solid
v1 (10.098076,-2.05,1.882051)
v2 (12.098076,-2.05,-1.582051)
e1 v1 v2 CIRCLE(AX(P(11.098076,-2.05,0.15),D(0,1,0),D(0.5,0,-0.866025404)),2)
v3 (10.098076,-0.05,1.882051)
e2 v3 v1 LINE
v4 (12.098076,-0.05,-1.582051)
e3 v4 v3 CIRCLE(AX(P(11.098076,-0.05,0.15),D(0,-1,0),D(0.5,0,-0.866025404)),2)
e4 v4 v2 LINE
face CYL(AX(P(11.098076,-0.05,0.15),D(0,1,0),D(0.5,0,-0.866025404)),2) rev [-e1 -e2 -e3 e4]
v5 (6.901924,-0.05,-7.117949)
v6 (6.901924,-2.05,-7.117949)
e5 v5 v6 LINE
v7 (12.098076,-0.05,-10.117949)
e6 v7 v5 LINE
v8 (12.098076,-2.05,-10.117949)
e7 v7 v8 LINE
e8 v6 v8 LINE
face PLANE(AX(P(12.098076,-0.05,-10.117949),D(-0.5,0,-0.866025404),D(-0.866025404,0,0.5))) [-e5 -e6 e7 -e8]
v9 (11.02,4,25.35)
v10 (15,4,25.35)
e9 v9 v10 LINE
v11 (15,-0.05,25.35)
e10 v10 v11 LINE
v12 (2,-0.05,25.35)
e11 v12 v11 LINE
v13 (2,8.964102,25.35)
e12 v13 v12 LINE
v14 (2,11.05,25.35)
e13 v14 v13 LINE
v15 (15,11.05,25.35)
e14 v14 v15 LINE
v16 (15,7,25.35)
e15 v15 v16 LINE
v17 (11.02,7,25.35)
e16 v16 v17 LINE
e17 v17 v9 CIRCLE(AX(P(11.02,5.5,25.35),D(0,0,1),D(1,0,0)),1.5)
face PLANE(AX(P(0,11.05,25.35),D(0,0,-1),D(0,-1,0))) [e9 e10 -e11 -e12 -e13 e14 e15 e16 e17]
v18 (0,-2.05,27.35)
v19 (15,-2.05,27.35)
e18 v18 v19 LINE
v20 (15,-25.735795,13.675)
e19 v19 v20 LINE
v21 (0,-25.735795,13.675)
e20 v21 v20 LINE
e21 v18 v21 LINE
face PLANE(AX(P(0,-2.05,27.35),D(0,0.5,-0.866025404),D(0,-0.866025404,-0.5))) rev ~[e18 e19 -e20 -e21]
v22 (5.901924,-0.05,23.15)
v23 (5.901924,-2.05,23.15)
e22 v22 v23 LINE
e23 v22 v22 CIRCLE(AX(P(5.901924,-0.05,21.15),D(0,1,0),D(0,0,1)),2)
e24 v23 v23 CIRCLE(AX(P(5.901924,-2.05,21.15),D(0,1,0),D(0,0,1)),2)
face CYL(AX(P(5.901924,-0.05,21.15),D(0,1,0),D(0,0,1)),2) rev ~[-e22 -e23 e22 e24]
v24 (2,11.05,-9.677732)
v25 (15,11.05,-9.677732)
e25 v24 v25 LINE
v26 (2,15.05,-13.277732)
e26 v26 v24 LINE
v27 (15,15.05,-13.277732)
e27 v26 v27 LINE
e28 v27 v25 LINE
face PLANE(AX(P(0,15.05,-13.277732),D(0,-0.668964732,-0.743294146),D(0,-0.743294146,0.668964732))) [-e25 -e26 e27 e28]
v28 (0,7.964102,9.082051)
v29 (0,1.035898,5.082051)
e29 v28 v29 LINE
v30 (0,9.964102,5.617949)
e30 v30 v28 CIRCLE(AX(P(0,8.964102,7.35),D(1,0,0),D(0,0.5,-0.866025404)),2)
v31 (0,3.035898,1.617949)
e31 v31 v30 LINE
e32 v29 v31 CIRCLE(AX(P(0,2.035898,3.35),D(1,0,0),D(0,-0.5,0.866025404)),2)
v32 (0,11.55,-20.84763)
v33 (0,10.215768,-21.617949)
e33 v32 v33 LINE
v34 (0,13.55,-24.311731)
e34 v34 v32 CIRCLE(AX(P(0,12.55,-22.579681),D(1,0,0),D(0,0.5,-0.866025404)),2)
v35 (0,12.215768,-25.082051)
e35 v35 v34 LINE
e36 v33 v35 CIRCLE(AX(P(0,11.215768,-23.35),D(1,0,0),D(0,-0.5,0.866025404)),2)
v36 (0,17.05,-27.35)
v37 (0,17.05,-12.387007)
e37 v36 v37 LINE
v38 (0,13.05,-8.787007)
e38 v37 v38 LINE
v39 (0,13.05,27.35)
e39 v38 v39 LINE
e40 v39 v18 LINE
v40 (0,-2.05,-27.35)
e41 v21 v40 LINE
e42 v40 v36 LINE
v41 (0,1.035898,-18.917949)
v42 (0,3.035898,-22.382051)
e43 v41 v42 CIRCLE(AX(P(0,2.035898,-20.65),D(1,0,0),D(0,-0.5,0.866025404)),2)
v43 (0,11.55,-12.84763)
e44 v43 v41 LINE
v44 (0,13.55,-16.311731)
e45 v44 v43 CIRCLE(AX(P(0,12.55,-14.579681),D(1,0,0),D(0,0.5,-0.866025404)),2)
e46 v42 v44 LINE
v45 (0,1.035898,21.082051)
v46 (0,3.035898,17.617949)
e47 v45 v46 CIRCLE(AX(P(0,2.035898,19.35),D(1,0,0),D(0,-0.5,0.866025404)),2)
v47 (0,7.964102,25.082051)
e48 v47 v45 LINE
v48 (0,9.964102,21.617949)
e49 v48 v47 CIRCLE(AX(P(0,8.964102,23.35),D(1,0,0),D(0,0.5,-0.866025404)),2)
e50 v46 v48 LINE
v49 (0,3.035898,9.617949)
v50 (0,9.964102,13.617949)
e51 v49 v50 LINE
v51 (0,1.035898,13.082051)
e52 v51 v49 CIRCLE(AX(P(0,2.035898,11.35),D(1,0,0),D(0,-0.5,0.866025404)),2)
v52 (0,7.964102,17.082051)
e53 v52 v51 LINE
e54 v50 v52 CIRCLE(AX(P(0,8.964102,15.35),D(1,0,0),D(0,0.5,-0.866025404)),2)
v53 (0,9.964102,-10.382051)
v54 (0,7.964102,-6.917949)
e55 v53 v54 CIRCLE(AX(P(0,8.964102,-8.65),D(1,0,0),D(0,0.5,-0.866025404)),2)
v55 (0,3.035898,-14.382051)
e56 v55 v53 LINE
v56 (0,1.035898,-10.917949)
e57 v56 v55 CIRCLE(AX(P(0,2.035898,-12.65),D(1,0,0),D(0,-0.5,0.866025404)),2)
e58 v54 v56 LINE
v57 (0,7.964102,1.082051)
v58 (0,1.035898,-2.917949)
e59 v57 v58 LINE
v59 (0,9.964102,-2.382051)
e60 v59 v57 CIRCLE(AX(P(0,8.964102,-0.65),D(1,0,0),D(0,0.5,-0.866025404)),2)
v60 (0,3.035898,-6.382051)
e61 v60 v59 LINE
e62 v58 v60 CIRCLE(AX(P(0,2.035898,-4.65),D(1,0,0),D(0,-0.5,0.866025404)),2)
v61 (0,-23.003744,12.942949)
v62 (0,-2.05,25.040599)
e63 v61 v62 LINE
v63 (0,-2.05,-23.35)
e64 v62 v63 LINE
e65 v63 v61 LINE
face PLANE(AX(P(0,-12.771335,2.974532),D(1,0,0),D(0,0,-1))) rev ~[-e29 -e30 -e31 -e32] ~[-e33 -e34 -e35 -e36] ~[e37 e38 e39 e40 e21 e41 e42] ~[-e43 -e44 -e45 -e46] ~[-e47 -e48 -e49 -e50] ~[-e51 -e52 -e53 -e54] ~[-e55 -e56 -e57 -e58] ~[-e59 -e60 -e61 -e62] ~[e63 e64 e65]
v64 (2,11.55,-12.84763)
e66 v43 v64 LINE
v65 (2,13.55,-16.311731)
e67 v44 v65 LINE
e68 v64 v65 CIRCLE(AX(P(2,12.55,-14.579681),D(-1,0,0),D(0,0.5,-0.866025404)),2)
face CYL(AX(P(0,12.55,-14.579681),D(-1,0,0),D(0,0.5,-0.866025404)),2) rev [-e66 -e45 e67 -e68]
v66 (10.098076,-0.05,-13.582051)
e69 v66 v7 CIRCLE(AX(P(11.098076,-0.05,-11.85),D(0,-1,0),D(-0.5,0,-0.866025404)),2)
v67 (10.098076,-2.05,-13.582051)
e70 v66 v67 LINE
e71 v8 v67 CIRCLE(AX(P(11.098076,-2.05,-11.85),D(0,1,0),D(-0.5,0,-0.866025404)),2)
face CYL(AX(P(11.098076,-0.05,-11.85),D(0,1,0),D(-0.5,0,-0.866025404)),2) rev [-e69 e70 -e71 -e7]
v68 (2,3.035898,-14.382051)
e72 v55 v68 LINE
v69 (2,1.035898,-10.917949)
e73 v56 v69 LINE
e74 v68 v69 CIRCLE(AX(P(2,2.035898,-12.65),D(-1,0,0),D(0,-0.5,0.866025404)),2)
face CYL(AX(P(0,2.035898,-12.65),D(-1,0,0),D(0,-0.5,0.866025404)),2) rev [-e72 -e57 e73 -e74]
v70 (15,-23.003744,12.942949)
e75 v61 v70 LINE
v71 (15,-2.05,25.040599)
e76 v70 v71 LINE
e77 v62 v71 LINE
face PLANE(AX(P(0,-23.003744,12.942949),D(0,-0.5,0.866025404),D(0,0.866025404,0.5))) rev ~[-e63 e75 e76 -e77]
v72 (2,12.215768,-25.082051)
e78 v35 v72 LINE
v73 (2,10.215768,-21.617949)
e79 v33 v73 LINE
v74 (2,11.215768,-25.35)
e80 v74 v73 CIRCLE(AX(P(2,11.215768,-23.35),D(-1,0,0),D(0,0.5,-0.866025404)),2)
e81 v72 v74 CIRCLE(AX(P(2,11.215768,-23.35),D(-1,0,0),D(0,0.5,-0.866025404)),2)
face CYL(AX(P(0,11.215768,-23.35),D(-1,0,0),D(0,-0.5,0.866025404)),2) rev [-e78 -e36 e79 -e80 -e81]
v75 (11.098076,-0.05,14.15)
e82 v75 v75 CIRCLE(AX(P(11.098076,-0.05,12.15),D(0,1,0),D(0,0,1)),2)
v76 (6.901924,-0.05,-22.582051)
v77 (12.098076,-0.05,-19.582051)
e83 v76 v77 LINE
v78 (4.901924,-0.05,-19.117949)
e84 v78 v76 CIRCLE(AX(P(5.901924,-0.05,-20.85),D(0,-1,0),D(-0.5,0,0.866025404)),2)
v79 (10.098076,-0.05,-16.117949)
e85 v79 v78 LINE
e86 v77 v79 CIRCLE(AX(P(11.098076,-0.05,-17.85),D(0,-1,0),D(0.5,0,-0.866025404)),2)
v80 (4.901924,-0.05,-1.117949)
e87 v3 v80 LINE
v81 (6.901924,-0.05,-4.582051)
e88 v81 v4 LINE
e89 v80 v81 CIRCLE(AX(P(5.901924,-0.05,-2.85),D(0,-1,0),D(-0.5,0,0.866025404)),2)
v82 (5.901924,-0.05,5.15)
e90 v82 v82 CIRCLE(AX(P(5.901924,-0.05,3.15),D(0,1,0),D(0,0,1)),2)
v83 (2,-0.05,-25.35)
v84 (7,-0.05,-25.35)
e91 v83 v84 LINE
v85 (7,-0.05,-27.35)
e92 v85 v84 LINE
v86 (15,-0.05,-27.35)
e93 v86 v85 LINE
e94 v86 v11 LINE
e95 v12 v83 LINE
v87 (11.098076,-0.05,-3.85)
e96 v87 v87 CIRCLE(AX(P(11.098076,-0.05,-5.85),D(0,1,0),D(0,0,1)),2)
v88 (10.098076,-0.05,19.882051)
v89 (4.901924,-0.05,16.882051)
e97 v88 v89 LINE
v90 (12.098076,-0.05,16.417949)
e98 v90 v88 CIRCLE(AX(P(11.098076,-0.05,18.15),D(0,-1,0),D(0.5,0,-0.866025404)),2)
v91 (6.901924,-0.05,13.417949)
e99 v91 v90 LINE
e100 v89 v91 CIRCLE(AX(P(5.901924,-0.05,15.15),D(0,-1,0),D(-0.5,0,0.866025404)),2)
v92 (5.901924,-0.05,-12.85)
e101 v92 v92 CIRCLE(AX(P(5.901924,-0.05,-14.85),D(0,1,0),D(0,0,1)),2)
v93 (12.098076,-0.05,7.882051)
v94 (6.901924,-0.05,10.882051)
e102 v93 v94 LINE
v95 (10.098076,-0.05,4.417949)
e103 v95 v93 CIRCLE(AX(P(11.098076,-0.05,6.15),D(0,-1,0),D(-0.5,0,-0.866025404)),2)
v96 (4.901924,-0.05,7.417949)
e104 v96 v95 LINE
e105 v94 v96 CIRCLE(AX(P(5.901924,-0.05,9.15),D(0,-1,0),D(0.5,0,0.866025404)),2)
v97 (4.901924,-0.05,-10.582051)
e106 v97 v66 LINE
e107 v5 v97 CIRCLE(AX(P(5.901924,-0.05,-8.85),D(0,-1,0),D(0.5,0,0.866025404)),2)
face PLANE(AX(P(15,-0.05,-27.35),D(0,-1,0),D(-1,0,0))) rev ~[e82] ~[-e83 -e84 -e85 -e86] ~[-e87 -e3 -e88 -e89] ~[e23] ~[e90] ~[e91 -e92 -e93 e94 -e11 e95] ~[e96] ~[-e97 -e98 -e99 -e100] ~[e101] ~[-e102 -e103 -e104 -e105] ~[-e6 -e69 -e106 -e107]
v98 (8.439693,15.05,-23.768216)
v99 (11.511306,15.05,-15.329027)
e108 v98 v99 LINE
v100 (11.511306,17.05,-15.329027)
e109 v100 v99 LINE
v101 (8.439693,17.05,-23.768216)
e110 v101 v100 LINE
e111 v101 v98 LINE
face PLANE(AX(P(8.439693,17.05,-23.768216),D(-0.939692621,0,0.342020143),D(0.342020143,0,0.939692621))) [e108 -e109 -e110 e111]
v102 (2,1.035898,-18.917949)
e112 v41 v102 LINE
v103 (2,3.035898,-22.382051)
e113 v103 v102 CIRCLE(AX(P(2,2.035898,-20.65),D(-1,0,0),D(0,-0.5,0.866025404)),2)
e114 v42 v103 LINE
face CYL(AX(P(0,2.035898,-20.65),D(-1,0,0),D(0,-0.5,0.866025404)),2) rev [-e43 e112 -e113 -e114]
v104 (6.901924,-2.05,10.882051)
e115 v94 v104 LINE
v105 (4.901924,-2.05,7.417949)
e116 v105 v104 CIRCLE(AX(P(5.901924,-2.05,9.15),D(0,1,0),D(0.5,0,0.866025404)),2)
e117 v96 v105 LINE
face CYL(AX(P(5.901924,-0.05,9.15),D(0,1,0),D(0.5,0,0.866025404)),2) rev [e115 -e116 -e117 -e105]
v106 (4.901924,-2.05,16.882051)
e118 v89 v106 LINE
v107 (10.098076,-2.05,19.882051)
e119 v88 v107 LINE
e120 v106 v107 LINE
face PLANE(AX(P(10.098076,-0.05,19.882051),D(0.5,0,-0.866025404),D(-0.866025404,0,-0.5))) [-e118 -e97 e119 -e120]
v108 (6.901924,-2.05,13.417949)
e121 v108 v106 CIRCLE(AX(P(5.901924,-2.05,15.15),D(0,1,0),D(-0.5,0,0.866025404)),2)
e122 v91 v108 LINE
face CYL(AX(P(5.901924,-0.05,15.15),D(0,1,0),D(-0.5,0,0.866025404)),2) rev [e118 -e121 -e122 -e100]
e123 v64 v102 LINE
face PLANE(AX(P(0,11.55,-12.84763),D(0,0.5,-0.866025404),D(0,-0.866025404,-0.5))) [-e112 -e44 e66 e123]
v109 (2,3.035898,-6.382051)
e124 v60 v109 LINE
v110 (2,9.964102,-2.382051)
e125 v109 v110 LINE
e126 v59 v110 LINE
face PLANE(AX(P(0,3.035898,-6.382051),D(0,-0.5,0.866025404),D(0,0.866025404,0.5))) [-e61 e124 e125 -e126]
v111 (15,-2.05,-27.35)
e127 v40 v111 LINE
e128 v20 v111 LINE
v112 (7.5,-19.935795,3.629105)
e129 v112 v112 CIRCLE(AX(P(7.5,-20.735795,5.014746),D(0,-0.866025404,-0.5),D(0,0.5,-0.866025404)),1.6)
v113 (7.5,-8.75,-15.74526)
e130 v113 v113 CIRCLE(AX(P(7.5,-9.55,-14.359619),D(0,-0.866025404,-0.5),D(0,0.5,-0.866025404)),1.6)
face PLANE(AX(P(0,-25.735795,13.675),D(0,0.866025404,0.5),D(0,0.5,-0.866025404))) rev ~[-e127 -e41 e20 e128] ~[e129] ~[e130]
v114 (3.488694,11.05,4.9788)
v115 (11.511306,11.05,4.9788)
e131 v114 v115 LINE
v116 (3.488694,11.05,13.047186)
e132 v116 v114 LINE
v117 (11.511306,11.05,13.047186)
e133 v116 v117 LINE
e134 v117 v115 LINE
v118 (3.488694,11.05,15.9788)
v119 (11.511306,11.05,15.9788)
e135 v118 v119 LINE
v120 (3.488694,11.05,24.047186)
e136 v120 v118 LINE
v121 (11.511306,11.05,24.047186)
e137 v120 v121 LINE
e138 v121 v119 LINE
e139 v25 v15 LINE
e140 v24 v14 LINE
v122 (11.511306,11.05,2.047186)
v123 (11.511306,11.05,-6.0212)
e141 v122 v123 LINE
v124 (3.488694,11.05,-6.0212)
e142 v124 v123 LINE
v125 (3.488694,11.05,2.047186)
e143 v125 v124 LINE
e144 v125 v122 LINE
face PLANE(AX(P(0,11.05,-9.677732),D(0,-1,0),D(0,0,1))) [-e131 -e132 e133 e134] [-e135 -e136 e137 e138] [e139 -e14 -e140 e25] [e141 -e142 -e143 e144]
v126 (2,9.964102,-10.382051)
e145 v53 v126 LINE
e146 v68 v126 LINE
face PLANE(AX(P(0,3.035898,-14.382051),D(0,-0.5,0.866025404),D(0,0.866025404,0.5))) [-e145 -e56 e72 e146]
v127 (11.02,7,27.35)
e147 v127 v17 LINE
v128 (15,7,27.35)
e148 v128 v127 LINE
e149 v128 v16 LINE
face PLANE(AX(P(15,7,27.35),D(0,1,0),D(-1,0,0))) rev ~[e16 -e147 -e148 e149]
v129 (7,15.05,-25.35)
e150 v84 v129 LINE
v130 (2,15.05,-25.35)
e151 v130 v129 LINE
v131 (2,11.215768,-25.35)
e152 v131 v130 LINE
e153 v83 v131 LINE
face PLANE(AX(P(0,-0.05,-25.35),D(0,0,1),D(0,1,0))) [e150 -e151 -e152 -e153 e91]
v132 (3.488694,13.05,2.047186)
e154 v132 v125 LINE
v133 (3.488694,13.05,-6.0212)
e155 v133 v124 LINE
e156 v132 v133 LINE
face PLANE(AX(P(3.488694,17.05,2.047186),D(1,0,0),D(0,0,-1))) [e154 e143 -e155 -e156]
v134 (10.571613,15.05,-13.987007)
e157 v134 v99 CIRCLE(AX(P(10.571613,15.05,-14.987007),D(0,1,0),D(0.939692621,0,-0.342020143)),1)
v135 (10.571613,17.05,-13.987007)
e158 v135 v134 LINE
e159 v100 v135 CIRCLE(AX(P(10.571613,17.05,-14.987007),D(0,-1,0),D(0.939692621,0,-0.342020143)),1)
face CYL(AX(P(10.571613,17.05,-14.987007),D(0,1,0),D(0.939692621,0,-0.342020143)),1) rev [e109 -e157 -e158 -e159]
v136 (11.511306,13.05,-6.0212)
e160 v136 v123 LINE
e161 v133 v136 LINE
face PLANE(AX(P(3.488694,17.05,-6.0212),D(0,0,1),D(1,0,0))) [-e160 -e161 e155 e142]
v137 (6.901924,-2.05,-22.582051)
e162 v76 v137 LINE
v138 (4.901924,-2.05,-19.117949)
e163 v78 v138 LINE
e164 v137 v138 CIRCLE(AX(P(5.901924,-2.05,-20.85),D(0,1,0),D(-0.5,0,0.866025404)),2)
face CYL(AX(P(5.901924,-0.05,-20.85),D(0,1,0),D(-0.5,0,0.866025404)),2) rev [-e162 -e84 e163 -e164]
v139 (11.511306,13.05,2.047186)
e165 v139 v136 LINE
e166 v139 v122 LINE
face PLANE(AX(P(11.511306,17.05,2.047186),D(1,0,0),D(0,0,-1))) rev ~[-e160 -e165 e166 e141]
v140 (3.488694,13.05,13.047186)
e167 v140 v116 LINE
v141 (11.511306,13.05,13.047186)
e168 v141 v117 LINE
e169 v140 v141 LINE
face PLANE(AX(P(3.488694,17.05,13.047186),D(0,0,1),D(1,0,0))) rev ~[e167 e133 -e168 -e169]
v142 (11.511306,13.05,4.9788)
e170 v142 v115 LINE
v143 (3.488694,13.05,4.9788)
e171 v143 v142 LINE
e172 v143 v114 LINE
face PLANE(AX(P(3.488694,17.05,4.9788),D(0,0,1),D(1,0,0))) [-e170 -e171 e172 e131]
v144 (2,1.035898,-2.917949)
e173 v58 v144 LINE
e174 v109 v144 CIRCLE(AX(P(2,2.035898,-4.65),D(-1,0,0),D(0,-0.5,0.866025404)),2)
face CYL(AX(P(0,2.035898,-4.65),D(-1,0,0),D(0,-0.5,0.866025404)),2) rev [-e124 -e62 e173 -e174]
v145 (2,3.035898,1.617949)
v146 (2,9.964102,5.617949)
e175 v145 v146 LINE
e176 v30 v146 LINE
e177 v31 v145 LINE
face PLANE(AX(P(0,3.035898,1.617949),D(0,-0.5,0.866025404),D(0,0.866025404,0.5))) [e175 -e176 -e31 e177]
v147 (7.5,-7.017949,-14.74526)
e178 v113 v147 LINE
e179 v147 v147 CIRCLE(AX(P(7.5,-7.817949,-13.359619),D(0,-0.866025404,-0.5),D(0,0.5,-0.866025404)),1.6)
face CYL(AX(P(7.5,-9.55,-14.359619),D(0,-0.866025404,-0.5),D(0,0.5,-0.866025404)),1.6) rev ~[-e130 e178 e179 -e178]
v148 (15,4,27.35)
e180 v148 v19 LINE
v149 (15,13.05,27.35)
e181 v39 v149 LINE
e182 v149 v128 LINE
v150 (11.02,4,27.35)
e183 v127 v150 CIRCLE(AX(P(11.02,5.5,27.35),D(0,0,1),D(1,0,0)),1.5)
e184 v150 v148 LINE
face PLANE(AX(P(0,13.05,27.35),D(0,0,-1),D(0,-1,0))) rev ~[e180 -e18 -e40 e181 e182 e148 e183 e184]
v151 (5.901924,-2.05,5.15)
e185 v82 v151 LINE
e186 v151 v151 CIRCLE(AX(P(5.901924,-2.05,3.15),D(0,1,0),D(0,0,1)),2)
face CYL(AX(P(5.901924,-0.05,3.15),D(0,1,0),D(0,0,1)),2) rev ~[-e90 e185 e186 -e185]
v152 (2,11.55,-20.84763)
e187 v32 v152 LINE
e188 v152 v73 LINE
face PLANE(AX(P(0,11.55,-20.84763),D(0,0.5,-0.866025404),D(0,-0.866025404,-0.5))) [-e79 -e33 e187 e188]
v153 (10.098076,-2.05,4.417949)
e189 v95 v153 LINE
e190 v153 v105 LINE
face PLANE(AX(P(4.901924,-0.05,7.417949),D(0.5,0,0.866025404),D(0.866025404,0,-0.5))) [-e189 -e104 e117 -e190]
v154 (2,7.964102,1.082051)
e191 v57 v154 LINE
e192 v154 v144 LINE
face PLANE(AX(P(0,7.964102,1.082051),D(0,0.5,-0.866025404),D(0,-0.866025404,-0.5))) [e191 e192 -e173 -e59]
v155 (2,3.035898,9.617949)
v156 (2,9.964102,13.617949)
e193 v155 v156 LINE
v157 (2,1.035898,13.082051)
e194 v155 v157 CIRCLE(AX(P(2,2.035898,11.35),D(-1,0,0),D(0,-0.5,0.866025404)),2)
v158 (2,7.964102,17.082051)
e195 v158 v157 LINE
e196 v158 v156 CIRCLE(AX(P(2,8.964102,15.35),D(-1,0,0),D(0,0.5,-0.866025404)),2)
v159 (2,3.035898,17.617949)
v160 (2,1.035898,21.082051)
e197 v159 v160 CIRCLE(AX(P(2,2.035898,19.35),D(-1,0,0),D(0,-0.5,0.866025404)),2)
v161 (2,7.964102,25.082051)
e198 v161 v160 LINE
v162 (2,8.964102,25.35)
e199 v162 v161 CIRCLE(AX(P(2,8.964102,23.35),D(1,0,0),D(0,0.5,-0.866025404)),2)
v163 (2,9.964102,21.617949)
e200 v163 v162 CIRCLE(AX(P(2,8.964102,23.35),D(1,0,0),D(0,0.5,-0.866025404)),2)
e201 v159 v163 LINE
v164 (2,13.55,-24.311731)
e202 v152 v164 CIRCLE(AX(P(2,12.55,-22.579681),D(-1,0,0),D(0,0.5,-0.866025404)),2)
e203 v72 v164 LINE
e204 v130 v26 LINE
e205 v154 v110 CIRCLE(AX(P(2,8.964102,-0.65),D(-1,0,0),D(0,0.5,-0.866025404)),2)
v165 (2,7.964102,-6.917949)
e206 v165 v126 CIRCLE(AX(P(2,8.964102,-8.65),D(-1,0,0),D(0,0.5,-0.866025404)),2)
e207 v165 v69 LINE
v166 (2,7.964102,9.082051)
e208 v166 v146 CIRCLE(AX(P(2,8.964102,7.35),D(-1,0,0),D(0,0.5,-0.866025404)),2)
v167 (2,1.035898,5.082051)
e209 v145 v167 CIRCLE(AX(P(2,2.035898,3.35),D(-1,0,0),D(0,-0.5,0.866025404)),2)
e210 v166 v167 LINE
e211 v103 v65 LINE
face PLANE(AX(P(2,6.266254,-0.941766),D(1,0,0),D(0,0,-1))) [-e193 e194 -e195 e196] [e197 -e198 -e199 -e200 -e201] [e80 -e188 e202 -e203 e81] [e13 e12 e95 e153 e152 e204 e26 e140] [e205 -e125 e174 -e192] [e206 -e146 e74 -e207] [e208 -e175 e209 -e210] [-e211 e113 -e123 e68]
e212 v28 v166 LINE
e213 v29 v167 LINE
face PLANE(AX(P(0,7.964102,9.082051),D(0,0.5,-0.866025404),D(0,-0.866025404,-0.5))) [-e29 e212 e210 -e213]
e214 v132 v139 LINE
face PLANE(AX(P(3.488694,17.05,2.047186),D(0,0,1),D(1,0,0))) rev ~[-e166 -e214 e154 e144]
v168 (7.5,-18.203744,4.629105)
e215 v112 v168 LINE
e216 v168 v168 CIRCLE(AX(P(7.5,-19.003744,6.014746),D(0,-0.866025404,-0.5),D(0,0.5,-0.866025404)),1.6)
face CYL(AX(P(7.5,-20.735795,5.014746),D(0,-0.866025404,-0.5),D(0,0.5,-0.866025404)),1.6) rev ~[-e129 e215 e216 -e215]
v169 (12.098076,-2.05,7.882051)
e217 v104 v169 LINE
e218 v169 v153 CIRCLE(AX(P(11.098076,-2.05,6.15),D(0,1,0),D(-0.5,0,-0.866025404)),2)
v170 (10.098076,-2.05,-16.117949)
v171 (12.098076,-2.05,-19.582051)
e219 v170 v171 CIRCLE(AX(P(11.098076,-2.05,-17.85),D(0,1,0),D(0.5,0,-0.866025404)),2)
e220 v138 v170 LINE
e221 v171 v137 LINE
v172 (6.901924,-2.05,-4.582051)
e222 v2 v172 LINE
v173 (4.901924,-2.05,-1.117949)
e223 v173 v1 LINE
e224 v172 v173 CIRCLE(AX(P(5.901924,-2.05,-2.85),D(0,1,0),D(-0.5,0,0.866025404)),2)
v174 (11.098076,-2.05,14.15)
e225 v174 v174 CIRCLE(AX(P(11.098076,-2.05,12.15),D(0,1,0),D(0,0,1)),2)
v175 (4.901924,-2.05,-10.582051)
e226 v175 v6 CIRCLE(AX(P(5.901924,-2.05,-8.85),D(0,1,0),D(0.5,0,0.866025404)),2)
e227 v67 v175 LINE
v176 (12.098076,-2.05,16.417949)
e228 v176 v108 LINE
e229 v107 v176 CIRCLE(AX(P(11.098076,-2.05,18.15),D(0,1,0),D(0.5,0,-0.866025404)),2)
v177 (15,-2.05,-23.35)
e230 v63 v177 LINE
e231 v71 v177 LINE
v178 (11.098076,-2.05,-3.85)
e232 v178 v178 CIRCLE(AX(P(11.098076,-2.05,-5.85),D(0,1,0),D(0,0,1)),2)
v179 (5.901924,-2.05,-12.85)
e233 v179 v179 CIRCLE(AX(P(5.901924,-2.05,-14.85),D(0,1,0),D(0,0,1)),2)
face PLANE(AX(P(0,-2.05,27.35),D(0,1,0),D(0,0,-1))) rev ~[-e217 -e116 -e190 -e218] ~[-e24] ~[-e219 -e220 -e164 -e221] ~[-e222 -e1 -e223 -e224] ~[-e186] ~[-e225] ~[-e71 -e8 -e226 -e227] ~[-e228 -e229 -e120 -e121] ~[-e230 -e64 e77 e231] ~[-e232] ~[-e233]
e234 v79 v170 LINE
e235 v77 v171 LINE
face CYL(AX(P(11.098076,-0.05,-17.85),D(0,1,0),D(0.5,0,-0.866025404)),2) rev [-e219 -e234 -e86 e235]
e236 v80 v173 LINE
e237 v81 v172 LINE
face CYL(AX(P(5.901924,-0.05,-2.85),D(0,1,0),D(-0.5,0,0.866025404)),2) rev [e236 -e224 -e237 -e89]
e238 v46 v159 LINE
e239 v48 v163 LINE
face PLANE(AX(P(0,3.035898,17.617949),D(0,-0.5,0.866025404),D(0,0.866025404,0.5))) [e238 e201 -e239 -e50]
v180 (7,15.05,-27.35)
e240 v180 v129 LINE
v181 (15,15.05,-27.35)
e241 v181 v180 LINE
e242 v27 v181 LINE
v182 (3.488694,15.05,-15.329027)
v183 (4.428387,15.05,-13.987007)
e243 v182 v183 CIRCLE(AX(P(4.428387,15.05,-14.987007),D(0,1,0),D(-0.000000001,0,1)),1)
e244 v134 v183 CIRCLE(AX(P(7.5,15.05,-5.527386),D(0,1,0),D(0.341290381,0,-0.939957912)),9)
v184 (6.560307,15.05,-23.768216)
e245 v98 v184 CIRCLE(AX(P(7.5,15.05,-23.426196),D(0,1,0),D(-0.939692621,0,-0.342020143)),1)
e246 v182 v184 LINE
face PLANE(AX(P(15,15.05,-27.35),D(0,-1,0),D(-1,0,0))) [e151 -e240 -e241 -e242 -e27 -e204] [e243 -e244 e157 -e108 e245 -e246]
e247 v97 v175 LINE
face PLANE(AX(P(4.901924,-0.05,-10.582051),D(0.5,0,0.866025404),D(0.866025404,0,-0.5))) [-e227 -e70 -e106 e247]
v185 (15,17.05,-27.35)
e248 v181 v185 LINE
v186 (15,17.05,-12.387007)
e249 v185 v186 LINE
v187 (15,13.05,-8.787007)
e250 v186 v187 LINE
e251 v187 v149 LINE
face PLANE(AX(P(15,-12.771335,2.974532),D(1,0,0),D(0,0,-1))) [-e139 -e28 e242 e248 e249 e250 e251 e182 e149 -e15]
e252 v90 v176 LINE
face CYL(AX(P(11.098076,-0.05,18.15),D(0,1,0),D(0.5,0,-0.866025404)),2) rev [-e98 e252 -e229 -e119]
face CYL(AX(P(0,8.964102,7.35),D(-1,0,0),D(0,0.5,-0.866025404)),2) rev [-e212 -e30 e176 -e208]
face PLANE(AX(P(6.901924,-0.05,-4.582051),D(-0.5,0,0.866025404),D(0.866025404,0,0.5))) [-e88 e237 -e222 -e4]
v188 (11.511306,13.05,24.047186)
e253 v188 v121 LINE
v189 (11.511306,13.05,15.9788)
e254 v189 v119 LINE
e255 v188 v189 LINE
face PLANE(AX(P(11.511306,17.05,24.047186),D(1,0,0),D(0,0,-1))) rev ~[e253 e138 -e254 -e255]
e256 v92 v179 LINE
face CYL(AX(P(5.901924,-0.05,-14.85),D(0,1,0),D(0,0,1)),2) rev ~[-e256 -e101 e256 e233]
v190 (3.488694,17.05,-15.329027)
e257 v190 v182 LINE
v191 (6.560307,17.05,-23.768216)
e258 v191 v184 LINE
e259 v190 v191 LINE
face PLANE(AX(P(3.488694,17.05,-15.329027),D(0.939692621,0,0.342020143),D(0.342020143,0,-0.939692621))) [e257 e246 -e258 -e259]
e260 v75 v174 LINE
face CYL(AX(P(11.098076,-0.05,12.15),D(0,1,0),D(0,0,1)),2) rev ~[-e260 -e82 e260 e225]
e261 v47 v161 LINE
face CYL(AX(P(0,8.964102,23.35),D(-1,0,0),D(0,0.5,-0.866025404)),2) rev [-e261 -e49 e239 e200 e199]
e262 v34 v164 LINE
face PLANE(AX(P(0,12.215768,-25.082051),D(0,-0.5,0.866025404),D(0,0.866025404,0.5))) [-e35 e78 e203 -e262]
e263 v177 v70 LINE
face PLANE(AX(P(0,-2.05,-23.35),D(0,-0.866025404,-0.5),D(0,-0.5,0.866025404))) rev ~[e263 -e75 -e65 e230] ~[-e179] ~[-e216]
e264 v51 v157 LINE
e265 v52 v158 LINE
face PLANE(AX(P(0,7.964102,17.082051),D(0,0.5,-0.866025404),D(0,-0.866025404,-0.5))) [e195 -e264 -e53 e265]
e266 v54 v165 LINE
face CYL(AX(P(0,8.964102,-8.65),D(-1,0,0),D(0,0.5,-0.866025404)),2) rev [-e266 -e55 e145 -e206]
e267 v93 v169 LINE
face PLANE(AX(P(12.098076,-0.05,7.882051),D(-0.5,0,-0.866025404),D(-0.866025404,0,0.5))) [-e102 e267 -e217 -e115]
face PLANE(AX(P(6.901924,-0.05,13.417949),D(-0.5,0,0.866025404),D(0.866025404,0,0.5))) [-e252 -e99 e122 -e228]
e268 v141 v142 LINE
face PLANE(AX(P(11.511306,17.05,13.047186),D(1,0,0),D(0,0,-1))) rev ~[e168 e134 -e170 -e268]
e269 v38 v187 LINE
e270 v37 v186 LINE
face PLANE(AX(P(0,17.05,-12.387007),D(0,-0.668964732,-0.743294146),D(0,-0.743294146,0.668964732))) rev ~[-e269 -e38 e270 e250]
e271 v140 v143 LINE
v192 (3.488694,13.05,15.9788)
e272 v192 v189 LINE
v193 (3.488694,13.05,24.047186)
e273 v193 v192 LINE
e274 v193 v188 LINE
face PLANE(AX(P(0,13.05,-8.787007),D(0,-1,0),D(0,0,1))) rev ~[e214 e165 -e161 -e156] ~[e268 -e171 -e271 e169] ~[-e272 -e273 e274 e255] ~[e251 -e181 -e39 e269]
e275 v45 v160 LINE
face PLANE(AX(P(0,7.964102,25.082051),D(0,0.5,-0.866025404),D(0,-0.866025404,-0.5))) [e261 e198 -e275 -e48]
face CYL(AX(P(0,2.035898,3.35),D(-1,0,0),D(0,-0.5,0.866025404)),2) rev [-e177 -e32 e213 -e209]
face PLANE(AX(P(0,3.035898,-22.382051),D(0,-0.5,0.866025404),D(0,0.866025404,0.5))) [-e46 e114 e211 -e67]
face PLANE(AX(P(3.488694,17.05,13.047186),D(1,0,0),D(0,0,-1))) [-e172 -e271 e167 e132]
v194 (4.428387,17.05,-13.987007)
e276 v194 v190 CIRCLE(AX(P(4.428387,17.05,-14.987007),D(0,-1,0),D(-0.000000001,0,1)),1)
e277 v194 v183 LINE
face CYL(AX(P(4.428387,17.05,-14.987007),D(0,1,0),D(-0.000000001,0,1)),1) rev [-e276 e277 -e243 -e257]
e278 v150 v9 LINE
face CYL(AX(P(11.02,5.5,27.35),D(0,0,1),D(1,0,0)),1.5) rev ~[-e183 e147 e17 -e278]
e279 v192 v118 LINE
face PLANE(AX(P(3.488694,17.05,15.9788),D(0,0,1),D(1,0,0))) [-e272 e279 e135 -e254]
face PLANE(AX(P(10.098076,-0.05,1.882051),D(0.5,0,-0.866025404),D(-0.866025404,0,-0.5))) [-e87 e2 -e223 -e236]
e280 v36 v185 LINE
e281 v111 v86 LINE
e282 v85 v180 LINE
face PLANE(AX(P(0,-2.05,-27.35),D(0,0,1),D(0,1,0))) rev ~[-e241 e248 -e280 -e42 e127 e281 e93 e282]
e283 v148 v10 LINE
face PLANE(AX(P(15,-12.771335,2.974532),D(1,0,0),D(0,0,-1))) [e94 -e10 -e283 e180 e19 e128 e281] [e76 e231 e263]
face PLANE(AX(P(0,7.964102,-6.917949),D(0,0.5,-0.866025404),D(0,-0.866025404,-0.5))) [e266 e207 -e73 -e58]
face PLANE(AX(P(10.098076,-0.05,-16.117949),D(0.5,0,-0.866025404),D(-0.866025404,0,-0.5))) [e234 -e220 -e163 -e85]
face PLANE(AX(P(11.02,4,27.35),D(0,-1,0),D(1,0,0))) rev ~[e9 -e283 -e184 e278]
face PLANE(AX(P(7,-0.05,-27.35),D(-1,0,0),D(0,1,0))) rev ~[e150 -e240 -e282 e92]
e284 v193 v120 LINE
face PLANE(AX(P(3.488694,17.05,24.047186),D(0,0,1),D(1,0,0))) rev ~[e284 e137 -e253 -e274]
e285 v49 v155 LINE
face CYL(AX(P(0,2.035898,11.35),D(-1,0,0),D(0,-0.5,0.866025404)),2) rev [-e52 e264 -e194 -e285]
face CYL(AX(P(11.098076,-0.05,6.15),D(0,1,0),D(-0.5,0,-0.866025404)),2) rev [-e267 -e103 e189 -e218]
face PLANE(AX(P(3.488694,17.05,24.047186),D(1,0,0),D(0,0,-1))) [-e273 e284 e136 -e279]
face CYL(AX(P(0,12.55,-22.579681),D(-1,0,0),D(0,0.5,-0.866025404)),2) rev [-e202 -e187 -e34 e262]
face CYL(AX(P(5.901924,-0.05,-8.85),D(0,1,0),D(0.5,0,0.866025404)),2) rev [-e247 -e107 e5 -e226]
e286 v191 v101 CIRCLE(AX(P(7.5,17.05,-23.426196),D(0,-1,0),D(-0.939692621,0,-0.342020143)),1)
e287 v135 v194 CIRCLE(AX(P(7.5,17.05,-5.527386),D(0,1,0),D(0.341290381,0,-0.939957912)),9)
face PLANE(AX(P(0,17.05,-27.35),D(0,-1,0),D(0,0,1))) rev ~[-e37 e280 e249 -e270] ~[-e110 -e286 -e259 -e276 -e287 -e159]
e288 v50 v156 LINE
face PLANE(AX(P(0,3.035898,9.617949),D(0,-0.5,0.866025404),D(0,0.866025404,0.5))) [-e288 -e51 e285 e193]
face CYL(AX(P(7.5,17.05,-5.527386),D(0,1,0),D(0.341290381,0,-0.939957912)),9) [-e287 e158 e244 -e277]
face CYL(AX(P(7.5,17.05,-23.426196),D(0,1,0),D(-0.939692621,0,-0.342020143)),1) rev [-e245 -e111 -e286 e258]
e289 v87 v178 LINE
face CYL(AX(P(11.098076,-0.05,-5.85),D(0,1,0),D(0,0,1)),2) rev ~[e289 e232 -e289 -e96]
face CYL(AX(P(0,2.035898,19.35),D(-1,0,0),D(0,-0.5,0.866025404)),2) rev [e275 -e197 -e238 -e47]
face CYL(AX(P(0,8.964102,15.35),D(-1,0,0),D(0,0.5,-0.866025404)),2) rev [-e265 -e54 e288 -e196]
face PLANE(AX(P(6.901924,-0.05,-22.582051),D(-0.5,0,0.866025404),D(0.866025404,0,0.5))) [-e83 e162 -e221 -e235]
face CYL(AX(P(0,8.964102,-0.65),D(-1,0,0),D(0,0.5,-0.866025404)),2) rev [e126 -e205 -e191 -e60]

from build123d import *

# Parameters (mm, degrees)
EXTRUDE_1_DEPTH     = 15
EXTRUDE_2_DEPTH     = 2
CUT_EXTRUDE_1_REACH = 61.227
SKETCH_2_R          = 1.5
EXTRUDE_3_DEPTH     = 15
CUT_EXTRUDE_2_REACH = 64.285
SKETCH_4_W          = 8
SKETCH_4_H          = 15.1
CUT_EXTRUDE_3_REACH = 50.798
SKETCH_5_R          = 1.6
CUT_EXTRUDE_5_REACH = 42.44
CUT_EXTRUDE_6_REACH = 54.949
SKETCH_7_W          = 8.022612094
SKETCH_7_H          = 8.068386681
CUT_EXTRUDE_7_REACH = 42.408
SKETCH_8_R          = 2


with BuildPart() as part:
    # 草图1 → 凸台-拉伸1 (new body)
    with BuildSketch(Plane(origin=(0, 0, 0), x_dir=(0, 0, -1), z_dir=(1, 0, 0))):
        Polygon((12.38700707, 17.05), (8.78700707, 13.05), (-27.35, 13.05), (-27.35, -2.05), (27.35, -2.05), (27.35, 17.05), align=None)
        Polygon((13.27773188, 15.05), (9.67773188, 11.05), (-25.35, 11.05), (-25.35, -0.05), (25.35, -0.05), (25.35, 15.05), align=None, mode=Mode.SUBTRACT)
    extrude(amount=EXTRUDE_1_DEPTH)

    # 草图1<3> → 凸台-拉伸2 (add)
    with BuildSketch(Plane(origin=(0, 0, 0), x_dir=(0, 0, -1), z_dir=(1, 0, 0))):
        Polygon((25.35, -0.05), (25.35, 15.05), (13.27773188, 15.05), (9.67773188, 11.05), (-25.35, 11.05), (-25.35, -0.05), align=None)
    extrude(amount=EXTRUDE_2_DEPTH)

    # 草图2 → 切除-拉伸1 (cut, up to next)
    with BuildSketch(Plane.XY.offset(27.35), mode=Mode.PRIVATE) as cut_extrude_1_sk1:
        with Locations((11.02, 5.5)):
            Circle(SKETCH_2_R)
    cut_extrude_1_tool1 = extrude(cut_extrude_1_sk1.sketch, amount=-CUT_EXTRUDE_1_REACH, mode=Mode.PRIVATE) & part.part
    # 草图2 → 切除-拉伸1 (cut, up to next)
    with BuildSketch(Plane.XY.offset(27.35), mode=Mode.PRIVATE) as cut_extrude_1_sk2:
        with BuildLine():
            Line((15, 7), (11.02, 7))
            ThreePointArc((11.02, 7), (12.080660172, 6.560660172), (12.52, 5.5))
            ThreePointArc((12.52, 5.5), (12.080660172, 4.439339828), (11.02, 4))
            Line((11.02, 4), (15, 4))
            Line((15, 4), (15, 7))
        make_face()
    cut_extrude_1_tool2 = extrude(cut_extrude_1_sk2.sketch, amount=-CUT_EXTRUDE_1_REACH, mode=Mode.PRIVATE) & part.part
    add(cut_extrude_1_tool1.solids().sort_by_distance((11.02, 5.5, 27.35))[0], mode=Mode.SUBTRACT)
    add(cut_extrude_1_tool2.solids().sort_by_distance((13.579047, 5.5, 27.35))[0], mode=Mode.SUBTRACT)

    # 草图3 → 凸台-拉伸3 (add)
    with BuildSketch(Plane(origin=(0, 0, 0), x_dir=(0, 0, -1), z_dir=(1, 0, 0))):
        Polygon((-13.675, -25.735794794), (27.35, -2.05), (23.35, -2.05), (-12.942949192, -23.003743986), (-25.040598923, -2.05), (-27.35, -2.05), align=None)
    extrude(amount=EXTRUDE_3_DEPTH)

    # 草图4 → 切除-拉伸2 (cut, up to next)
    with BuildSketch(Plane(origin=(0, 0, -27.35), x_dir=(-1, 0, 0), z_dir=(0, 0, -1)), mode=Mode.PRIVATE) as cut_extrude_2_sk1:
        with Locations((-11, 7.5)):
            Rectangle(SKETCH_4_W, SKETCH_4_H)
    cut_extrude_2_tool1 = extrude(cut_extrude_2_sk1.sketch, amount=-CUT_EXTRUDE_2_REACH, mode=Mode.PRIVATE) & part.part
    add(cut_extrude_2_tool1.solids().sort_by_distance((11, 7.5, -27.35))[0], mode=Mode.SUBTRACT)

    # 草图5 → 切除-拉伸3 (cut, up to next)
    with BuildSketch(Plane(origin=(0, -13.380397397, -7.725176039), x_dir=(1, 0, 0), z_dir=(0, -0.8660254037844414, -0.49999999999999517)), mode=Mode.PRIVATE) as cut_extrude_3_sk1:
        with Locations(Location((7.5, 14.710794794, 0), (0, 0, 270))):
            Circle(SKETCH_5_R)
    cut_extrude_3_tool1 = extrude(cut_extrude_3_sk1.sketch, amount=-CUT_EXTRUDE_3_REACH, mode=Mode.PRIVATE) & part.part
    # 草图5 → 切除-拉伸3 (cut, up to next)
    with BuildSketch(Plane(origin=(0, -13.380397397, -7.725176039), x_dir=(1, 0, 0), z_dir=(0, -0.8660254037844414, -0.49999999999999517)), mode=Mode.PRIVATE) as cut_extrude_3_sk2:
        with Locations(Location((7.5, -7.660794794, 0), (0, 0, 270))):
            Circle(SKETCH_5_R)
    cut_extrude_3_tool2 = extrude(cut_extrude_3_sk2.sketch, amount=-CUT_EXTRUDE_3_REACH, mode=Mode.PRIVATE) & part.part
    add(cut_extrude_3_tool1.solids().sort_by_distance((7.5, -20.735795, 5.014746))[0], mode=Mode.SUBTRACT)
    add(cut_extrude_3_tool2.solids().sort_by_distance((7.5, -9.55, -14.359619))[0], mode=Mode.SUBTRACT)

    # 草图6 → 切除-拉伸5 (cut, up to next)
    with BuildSketch(Plane(origin=(0, 0, 0), x_dir=(0, 0, -1), z_dir=(1, 0, 0)), mode=Mode.PRIVATE) as cut_extrude_5_sk1:
        with BuildLine():
            Line((20.847629795, 11.55), (21.617949192, 10.215767665))
            ThreePointArc((21.617949192, 10.215767665), (24.35, 9.483716857), (25.082050808, 12.215767665))
            Line((25.082050808, 12.215767665), (24.31173141, 13.55))
            ThreePointArc((24.31173141, 13.55), (21.579680602, 14.282050808), (20.847629795, 11.55))
        make_face()
    cut_extrude_5_tool1 = extrude(cut_extrude_5_sk1.sketch, amount=CUT_EXTRUDE_5_REACH, mode=Mode.PRIVATE) & part.part
    # 草图6 → 切除-拉伸5 (cut, up to next)
    with BuildSketch(Plane(origin=(0, 0, 0), x_dir=(0, 0, -1), z_dir=(1, 0, 0)), mode=Mode.PRIVATE) as cut_extrude_5_sk2:
        with BuildLine():
            Line((12.847629795, 11.55), (18.917949192, 1.035898385))
            ThreePointArc((18.917949192, 1.035898385), (21.65, 0.303847577), (22.382050808, 3.035898385))
            Line((22.382050808, 3.035898385), (16.31173141, 13.55))
            ThreePointArc((16.31173141, 13.55), (13.579680602, 14.282050808), (12.847629795, 11.55))
        make_face()
    cut_extrude_5_tool2 = extrude(cut_extrude_5_sk2.sketch, amount=CUT_EXTRUDE_5_REACH, mode=Mode.PRIVATE) & part.part
    # 草图6 → 切除-拉伸5 (cut, up to next)
    with BuildSketch(Plane(origin=(0, 0, 0), x_dir=(0, 0, -1), z_dir=(1, 0, 0)), mode=Mode.PRIVATE) as cut_extrude_5_sk3:
        with BuildLine():
            Line((6.917949192, 7.964101615), (10.917949192, 1.035898385))
            ThreePointArc((10.917949192, 1.035898385), (13.65, 0.303847577), (14.382050808, 3.035898385))
            Line((14.382050808, 3.035898385), (10.382050808, 9.964101615))
            ThreePointArc((10.382050808, 9.964101615), (7.65, 10.696152423), (6.917949192, 7.964101615))
        make_face()
    cut_extrude_5_tool3 = extrude(cut_extrude_5_sk3.sketch, amount=CUT_EXTRUDE_5_REACH, mode=Mode.PRIVATE) & part.part
    # 草图6 → 切除-拉伸5 (cut, up to next)
    with BuildSketch(Plane(origin=(0, 0, 0), x_dir=(0, 0, -1), z_dir=(1, 0, 0)), mode=Mode.PRIVATE) as cut_extrude_5_sk4:
        with BuildLine():
            Line((-1.082050808, 7.964101615), (2.917949192, 1.035898385))
            ThreePointArc((2.917949192, 1.035898385), (5.65, 0.303847577), (6.382050808, 3.035898385))
            Line((6.382050808, 3.035898385), (2.382050808, 9.964101615))
            ThreePointArc((2.382050808, 9.964101615), (-0.35, 10.696152423), (-1.082050808, 7.964101615))
        make_face()
    cut_extrude_5_tool4 = extrude(cut_extrude_5_sk4.sketch, amount=CUT_EXTRUDE_5_REACH, mode=Mode.PRIVATE) & part.part
    # 草图6 → 切除-拉伸5 (cut, up to next)
    with BuildSketch(Plane(origin=(0, 0, 0), x_dir=(0, 0, -1), z_dir=(1, 0, 0)), mode=Mode.PRIVATE) as cut_extrude_5_sk5:
        with BuildLine():
            Line((-9.082050808, 7.964101615), (-5.082050808, 1.035898385))
            ThreePointArc((-5.082050808, 1.035898385), (-2.35, 0.303847577), (-1.617949192, 3.035898385))
            Line((-1.617949192, 3.035898385), (-5.617949192, 9.964101615))
            ThreePointArc((-5.617949192, 9.964101615), (-8.35, 10.696152423), (-9.082050808, 7.964101615))
        make_face()
    cut_extrude_5_tool5 = extrude(cut_extrude_5_sk5.sketch, amount=CUT_EXTRUDE_5_REACH, mode=Mode.PRIVATE) & part.part
    # 草图6 → 切除-拉伸5 (cut, up to next)
    with BuildSketch(Plane(origin=(0, 0, 0), x_dir=(0, 0, -1), z_dir=(1, 0, 0)), mode=Mode.PRIVATE) as cut_extrude_5_sk6:
        with BuildLine():
            Line((-17.082050808, 7.964101615), (-13.082050808, 1.035898385))
            ThreePointArc((-13.082050808, 1.035898385), (-10.35, 0.303847577), (-9.617949192, 3.035898385))
            Line((-9.617949192, 3.035898385), (-13.617949192, 9.964101615))
            ThreePointArc((-13.617949192, 9.964101615), (-16.35, 10.696152423), (-17.082050808, 7.964101615))
        make_face()
    cut_extrude_5_tool6 = extrude(cut_extrude_5_sk6.sketch, amount=CUT_EXTRUDE_5_REACH, mode=Mode.PRIVATE) & part.part
    # 草图6 → 切除-拉伸5 (cut, up to next)
    with BuildSketch(Plane(origin=(0, 0, 0), x_dir=(0, 0, -1), z_dir=(1, 0, 0)), mode=Mode.PRIVATE) as cut_extrude_5_sk7:
        with BuildLine():
            Line((-25.082050808, 7.964101615), (-21.082050808, 1.035898385))
            ThreePointArc((-21.082050808, 1.035898385), (-18.35, 0.303847577), (-17.617949192, 3.035898385))
            Line((-17.617949192, 3.035898385), (-21.617949192, 9.964101615))
            ThreePointArc((-21.617949192, 9.964101615), (-24.35, 10.696152423), (-25.082050808, 7.964101615))
        make_face()
    cut_extrude_5_tool7 = extrude(cut_extrude_5_sk7.sketch, amount=CUT_EXTRUDE_5_REACH, mode=Mode.PRIVATE) & part.part
    add(cut_extrude_5_tool1.solids().sort_by_distance((0, 11.882884, -22.96484))[0], mode=Mode.SUBTRACT)
    add(cut_extrude_5_tool2.solids().sort_by_distance((0, 7.292949, -17.61484))[0], mode=Mode.SUBTRACT)
    add(cut_extrude_5_tool3.solids().sort_by_distance((0, 5.5, -10.65))[0], mode=Mode.SUBTRACT)
    add(cut_extrude_5_tool4.solids().sort_by_distance((0, 5.5, -2.65))[0], mode=Mode.SUBTRACT)
    add(cut_extrude_5_tool5.solids().sort_by_distance((0, 5.5, 5.35))[0], mode=Mode.SUBTRACT)
    add(cut_extrude_5_tool6.solids().sort_by_distance((0, 5.5, 13.35))[0], mode=Mode.SUBTRACT)
    add(cut_extrude_5_tool7.solids().sort_by_distance((0, 5.5, 21.35))[0], mode=Mode.SUBTRACT)

    # 草图7 → 切除-拉伸6 (cut, up to next)
    with BuildSketch(Plane(origin=(0, 17.05, 0), x_dir=(1, 0, 0), z_dir=(0, 1, 0)), mode=Mode.PRIVATE) as cut_extrude_6_sk1:
        with BuildLine():
            Line((3.488693953, 15.329027214), (6.560307379, 23.768215743))
            ThreePointArc((6.560307379, 23.768215743), (7.5, 24.4261956), (8.439692621, 23.768215743))
            Line((8.439692621, 23.768215743), (11.511306047, 15.329027214))
            ThreePointArc((11.511306047, 15.329027214), (11.39076547, 14.413430634), (10.571613426, 13.98700707))
            ThreePointArc((10.571613426, 13.98700707), (7.5, 14.527385864), (4.428386574, 13.98700707))
            ThreePointArc((4.428386574, 13.98700707), (3.60923453, 14.413430634), (3.488693953, 15.329027214))
        make_face()
    cut_extrude_6_tool1 = extrude(cut_extrude_6_sk1.sketch, amount=-CUT_EXTRUDE_6_REACH, mode=Mode.PRIVATE) & part.part
    # 草图7 → 切除-拉伸6 (cut, up to next)
    with BuildSketch(Plane(origin=(0, 17.05, 0), x_dir=(1, 0, 0), z_dir=(0, 1, 0)), mode=Mode.PRIVATE) as cut_extrude_6_sk2:
        with Locations((7.5, -9.01299293)):
            Rectangle(SKETCH_7_W, SKETCH_7_H)
    cut_extrude_6_tool2 = extrude(cut_extrude_6_sk2.sketch, amount=-CUT_EXTRUDE_6_REACH, mode=Mode.PRIVATE) & part.part
    # 草图7 → 切除-拉伸6 (cut, up to next)
    with BuildSketch(Plane(origin=(0, 17.05, 0), x_dir=(1, 0, 0), z_dir=(0, 1, 0)), mode=Mode.PRIVATE) as cut_extrude_6_sk3:
        with Locations((7.5, 1.987007071)):
            Rectangle(SKETCH_7_W, SKETCH_7_H)
    cut_extrude_6_tool3 = extrude(cut_extrude_6_sk3.sketch, amount=-CUT_EXTRUDE_6_REACH, mode=Mode.PRIVATE) & part.part
    # 草图7 → 切除-拉伸6 (cut, up to next)
    with BuildSketch(Plane(origin=(0, 17.05, 0), x_dir=(1, 0, 0), z_dir=(0, 1, 0)), mode=Mode.PRIVATE) as cut_extrude_6_sk4:
        with Locations((7.5, -20.01299293)):
            Rectangle(SKETCH_7_W, SKETCH_7_H)
    cut_extrude_6_tool4 = extrude(cut_extrude_6_sk4.sketch, amount=-CUT_EXTRUDE_6_REACH, mode=Mode.PRIVATE) & part.part
    add(cut_extrude_6_tool1.solids().sort_by_distance((7.5, 17.05, -18.142881))[0], mode=Mode.SUBTRACT)
    add(cut_extrude_6_tool2.solids().sort_by_distance((7.5, 17.05, 9.012993))[0], mode=Mode.SUBTRACT)
    add(cut_extrude_6_tool3.solids().sort_by_distance((7.5, 17.05, -1.987007))[0], mode=Mode.SUBTRACT)
    add(cut_extrude_6_tool4.solids().sort_by_distance((7.5, 17.05, 20.012993))[0], mode=Mode.SUBTRACT)

    # 草图8 → 切除-拉伸7 (cut, up to next)
    with BuildSketch(Plane(origin=(0, -0.05, 0), x_dir=(1, 0, 0), z_dir=(0, 1, 0)), mode=Mode.PRIVATE) as cut_extrude_7_sk1:
        with Locations(Location((5.901923789, 14.85, 0), (0, 0, 270))):
            Circle(SKETCH_8_R)
    cut_extrude_7_tool1 = extrude(cut_extrude_7_sk1.sketch, amount=-CUT_EXTRUDE_7_REACH, mode=Mode.PRIVATE) & part.part
    # 草图8 → 切除-拉伸7 (cut, up to next)
    with BuildSketch(Plane(origin=(0, -0.05, 0), x_dir=(1, 0, 0), z_dir=(0, 1, 0)), mode=Mode.PRIVATE) as cut_extrude_7_sk2:
        with Locations(Location((11.098076211, 5.85, 0), (0, 0, 270))):
            Circle(SKETCH_8_R)
    cut_extrude_7_tool2 = extrude(cut_extrude_7_sk2.sketch, amount=-CUT_EXTRUDE_7_REACH, mode=Mode.PRIVATE) & part.part
    # 草图8 → 切除-拉伸7 (cut, up to next)
    with BuildSketch(Plane(origin=(0, -0.05, 0), x_dir=(1, 0, 0), z_dir=(0, 1, 0)), mode=Mode.PRIVATE) as cut_extrude_7_sk3:
        with Locations(Location((5.901923789, -3.15, 0), (0, 0, 270))):
            Circle(SKETCH_8_R)
    cut_extrude_7_tool3 = extrude(cut_extrude_7_sk3.sketch, amount=-CUT_EXTRUDE_7_REACH, mode=Mode.PRIVATE) & part.part
    # 草图8 → 切除-拉伸7 (cut, up to next)
    with BuildSketch(Plane(origin=(0, -0.05, 0), x_dir=(1, 0, 0), z_dir=(0, 1, 0)), mode=Mode.PRIVATE) as cut_extrude_7_sk4:
        with Locations(Location((11.098076211, -12.15, 0), (0, 0, 270))):
            Circle(SKETCH_8_R)
    cut_extrude_7_tool4 = extrude(cut_extrude_7_sk4.sketch, amount=-CUT_EXTRUDE_7_REACH, mode=Mode.PRIVATE) & part.part
    # 草图8 → 切除-拉伸7 (cut, up to next)
    with BuildSketch(Plane(origin=(0, -0.05, 0), x_dir=(1, 0, 0), z_dir=(0, 1, 0)), mode=Mode.PRIVATE) as cut_extrude_7_sk5:
        with Locations(Location((5.901923789, -21.15, 0), (0, 0, 270))):
            Circle(SKETCH_8_R)
    cut_extrude_7_tool5 = extrude(cut_extrude_7_sk5.sketch, amount=-CUT_EXTRUDE_7_REACH, mode=Mode.PRIVATE) & part.part
    # 草图8 → 切除-拉伸7 (cut, up to next)
    with BuildSketch(Plane(origin=(0, -0.05, 0), x_dir=(1, 0, 0), z_dir=(0, 1, 0)), mode=Mode.PRIVATE) as cut_extrude_7_sk6:
        with BuildLine():
            Line((6.901923789, 22.582050808), (12.098076211, 19.582050808))
            ThreePointArc((12.098076211, 19.582050808), (12.830127019, 16.85), (10.098076211, 16.117949192))
            Line((10.098076211, 16.117949192), (4.901923789, 19.117949192))
            ThreePointArc((4.901923789, 19.117949192), (4.169872981, 21.85), (6.901923789, 22.582050808))
        make_face()
    cut_extrude_7_tool6 = extrude(cut_extrude_7_sk6.sketch, amount=-CUT_EXTRUDE_7_REACH, mode=Mode.PRIVATE) & part.part
    # 草图8 → 切除-拉伸7 (cut, up to next)
    with BuildSketch(Plane(origin=(0, -0.05, 0), x_dir=(1, 0, 0), z_dir=(0, 1, 0)), mode=Mode.PRIVATE) as cut_extrude_7_sk7:
        with BuildLine():
            Line((4.901923789, 10.582050808), (10.098076211, 13.582050808))
            ThreePointArc((10.098076211, 13.582050808), (12.830127019, 12.85), (12.098076211, 10.117949192))
            Line((12.098076211, 10.117949192), (6.901923789, 7.117949192))
            ThreePointArc((6.901923789, 7.117949192), (4.169872981, 7.85), (4.901923789, 10.582050808))
        make_face()
    cut_extrude_7_tool7 = extrude(cut_extrude_7_sk7.sketch, amount=-CUT_EXTRUDE_7_REACH, mode=Mode.PRIVATE) & part.part
    # 草图8 → 切除-拉伸7 (cut, up to next)
    with BuildSketch(Plane(origin=(0, -0.05, 0), x_dir=(1, 0, 0), z_dir=(0, 1, 0)), mode=Mode.PRIVATE) as cut_extrude_7_sk8:
        with BuildLine():
            Line((6.901923789, 4.582050808), (12.098076211, 1.582050808))
            ThreePointArc((12.098076211, 1.582050808), (12.830127019, -1.15), (10.098076211, -1.882050808))
            Line((10.098076211, -1.882050808), (4.901923789, 1.117949192))
            ThreePointArc((4.901923789, 1.117949192), (4.169872981, 3.85), (6.901923789, 4.582050808))
        make_face()
    cut_extrude_7_tool8 = extrude(cut_extrude_7_sk8.sketch, amount=-CUT_EXTRUDE_7_REACH, mode=Mode.PRIVATE) & part.part
    # 草图8 → 切除-拉伸7 (cut, up to next)
    with BuildSketch(Plane(origin=(0, -0.05, 0), x_dir=(1, 0, 0), z_dir=(0, 1, 0)), mode=Mode.PRIVATE) as cut_extrude_7_sk9:
        with BuildLine():
            Line((4.901923789, -7.417949192), (10.098076211, -4.417949192))
            ThreePointArc((10.098076211, -4.417949192), (12.830127019, -5.15), (12.098076211, -7.882050808))
            Line((12.098076211, -7.882050808), (6.901923789, -10.882050808))
            ThreePointArc((6.901923789, -10.882050808), (4.169872981, -10.15), (4.901923789, -7.417949192))
        make_face()
    cut_extrude_7_tool9 = extrude(cut_extrude_7_sk9.sketch, amount=-CUT_EXTRUDE_7_REACH, mode=Mode.PRIVATE) & part.part
    # 草图8 → 切除-拉伸7 (cut, up to next)
    with BuildSketch(Plane(origin=(0, -0.05, 0), x_dir=(1, 0, 0), z_dir=(0, 1, 0)), mode=Mode.PRIVATE) as cut_extrude_7_sk10:
        with BuildLine():
            Line((6.901923789, -13.417949192), (12.098076211, -16.417949192))
            ThreePointArc((12.098076211, -16.417949192), (12.830127019, -19.15), (10.098076211, -19.882050808))
            Line((10.098076211, -19.882050808), (4.901923789, -16.882050808))
            ThreePointArc((4.901923789, -16.882050808), (4.169872981, -14.15), (6.901923789, -13.417949192))
        make_face()
    cut_extrude_7_tool10 = extrude(cut_extrude_7_sk10.sketch, amount=-CUT_EXTRUDE_7_REACH, mode=Mode.PRIVATE) & part.part
    add(cut_extrude_7_tool1.solids().sort_by_distance((5.901924, -0.05, -14.85))[0], mode=Mode.SUBTRACT)
    add(cut_extrude_7_tool2.solids().sort_by_distance((11.098076, -0.05, -5.85))[0], mode=Mode.SUBTRACT)
    add(cut_extrude_7_tool3.solids().sort_by_distance((5.901924, -0.05, 3.15))[0], mode=Mode.SUBTRACT)
    add(cut_extrude_7_tool4.solids().sort_by_distance((11.098076, -0.05, 12.15))[0], mode=Mode.SUBTRACT)
    add(cut_extrude_7_tool5.solids().sort_by_distance((5.901924, -0.05, 21.15))[0], mode=Mode.SUBTRACT)
    add(cut_extrude_7_tool6.solids().sort_by_distance((8.5, -0.05, -19.35))[0], mode=Mode.SUBTRACT)
    add(cut_extrude_7_tool7.solids().sort_by_distance((8.5, -0.05, -10.35))[0], mode=Mode.SUBTRACT)
    add(cut_extrude_7_tool8.solids().sort_by_distance((8.5, -0.05, -1.35))[0], mode=Mode.SUBTRACT)
    add(cut_extrude_7_tool9.solids().sort_by_distance((8.5, -0.05, 7.65))[0], mode=Mode.SUBTRACT)
    add(cut_extrude_7_tool10.solids().sort_by_distance((8.5, -0.05, 16.65))[0], mode=Mode.SUBTRACT)


solid = part.part
